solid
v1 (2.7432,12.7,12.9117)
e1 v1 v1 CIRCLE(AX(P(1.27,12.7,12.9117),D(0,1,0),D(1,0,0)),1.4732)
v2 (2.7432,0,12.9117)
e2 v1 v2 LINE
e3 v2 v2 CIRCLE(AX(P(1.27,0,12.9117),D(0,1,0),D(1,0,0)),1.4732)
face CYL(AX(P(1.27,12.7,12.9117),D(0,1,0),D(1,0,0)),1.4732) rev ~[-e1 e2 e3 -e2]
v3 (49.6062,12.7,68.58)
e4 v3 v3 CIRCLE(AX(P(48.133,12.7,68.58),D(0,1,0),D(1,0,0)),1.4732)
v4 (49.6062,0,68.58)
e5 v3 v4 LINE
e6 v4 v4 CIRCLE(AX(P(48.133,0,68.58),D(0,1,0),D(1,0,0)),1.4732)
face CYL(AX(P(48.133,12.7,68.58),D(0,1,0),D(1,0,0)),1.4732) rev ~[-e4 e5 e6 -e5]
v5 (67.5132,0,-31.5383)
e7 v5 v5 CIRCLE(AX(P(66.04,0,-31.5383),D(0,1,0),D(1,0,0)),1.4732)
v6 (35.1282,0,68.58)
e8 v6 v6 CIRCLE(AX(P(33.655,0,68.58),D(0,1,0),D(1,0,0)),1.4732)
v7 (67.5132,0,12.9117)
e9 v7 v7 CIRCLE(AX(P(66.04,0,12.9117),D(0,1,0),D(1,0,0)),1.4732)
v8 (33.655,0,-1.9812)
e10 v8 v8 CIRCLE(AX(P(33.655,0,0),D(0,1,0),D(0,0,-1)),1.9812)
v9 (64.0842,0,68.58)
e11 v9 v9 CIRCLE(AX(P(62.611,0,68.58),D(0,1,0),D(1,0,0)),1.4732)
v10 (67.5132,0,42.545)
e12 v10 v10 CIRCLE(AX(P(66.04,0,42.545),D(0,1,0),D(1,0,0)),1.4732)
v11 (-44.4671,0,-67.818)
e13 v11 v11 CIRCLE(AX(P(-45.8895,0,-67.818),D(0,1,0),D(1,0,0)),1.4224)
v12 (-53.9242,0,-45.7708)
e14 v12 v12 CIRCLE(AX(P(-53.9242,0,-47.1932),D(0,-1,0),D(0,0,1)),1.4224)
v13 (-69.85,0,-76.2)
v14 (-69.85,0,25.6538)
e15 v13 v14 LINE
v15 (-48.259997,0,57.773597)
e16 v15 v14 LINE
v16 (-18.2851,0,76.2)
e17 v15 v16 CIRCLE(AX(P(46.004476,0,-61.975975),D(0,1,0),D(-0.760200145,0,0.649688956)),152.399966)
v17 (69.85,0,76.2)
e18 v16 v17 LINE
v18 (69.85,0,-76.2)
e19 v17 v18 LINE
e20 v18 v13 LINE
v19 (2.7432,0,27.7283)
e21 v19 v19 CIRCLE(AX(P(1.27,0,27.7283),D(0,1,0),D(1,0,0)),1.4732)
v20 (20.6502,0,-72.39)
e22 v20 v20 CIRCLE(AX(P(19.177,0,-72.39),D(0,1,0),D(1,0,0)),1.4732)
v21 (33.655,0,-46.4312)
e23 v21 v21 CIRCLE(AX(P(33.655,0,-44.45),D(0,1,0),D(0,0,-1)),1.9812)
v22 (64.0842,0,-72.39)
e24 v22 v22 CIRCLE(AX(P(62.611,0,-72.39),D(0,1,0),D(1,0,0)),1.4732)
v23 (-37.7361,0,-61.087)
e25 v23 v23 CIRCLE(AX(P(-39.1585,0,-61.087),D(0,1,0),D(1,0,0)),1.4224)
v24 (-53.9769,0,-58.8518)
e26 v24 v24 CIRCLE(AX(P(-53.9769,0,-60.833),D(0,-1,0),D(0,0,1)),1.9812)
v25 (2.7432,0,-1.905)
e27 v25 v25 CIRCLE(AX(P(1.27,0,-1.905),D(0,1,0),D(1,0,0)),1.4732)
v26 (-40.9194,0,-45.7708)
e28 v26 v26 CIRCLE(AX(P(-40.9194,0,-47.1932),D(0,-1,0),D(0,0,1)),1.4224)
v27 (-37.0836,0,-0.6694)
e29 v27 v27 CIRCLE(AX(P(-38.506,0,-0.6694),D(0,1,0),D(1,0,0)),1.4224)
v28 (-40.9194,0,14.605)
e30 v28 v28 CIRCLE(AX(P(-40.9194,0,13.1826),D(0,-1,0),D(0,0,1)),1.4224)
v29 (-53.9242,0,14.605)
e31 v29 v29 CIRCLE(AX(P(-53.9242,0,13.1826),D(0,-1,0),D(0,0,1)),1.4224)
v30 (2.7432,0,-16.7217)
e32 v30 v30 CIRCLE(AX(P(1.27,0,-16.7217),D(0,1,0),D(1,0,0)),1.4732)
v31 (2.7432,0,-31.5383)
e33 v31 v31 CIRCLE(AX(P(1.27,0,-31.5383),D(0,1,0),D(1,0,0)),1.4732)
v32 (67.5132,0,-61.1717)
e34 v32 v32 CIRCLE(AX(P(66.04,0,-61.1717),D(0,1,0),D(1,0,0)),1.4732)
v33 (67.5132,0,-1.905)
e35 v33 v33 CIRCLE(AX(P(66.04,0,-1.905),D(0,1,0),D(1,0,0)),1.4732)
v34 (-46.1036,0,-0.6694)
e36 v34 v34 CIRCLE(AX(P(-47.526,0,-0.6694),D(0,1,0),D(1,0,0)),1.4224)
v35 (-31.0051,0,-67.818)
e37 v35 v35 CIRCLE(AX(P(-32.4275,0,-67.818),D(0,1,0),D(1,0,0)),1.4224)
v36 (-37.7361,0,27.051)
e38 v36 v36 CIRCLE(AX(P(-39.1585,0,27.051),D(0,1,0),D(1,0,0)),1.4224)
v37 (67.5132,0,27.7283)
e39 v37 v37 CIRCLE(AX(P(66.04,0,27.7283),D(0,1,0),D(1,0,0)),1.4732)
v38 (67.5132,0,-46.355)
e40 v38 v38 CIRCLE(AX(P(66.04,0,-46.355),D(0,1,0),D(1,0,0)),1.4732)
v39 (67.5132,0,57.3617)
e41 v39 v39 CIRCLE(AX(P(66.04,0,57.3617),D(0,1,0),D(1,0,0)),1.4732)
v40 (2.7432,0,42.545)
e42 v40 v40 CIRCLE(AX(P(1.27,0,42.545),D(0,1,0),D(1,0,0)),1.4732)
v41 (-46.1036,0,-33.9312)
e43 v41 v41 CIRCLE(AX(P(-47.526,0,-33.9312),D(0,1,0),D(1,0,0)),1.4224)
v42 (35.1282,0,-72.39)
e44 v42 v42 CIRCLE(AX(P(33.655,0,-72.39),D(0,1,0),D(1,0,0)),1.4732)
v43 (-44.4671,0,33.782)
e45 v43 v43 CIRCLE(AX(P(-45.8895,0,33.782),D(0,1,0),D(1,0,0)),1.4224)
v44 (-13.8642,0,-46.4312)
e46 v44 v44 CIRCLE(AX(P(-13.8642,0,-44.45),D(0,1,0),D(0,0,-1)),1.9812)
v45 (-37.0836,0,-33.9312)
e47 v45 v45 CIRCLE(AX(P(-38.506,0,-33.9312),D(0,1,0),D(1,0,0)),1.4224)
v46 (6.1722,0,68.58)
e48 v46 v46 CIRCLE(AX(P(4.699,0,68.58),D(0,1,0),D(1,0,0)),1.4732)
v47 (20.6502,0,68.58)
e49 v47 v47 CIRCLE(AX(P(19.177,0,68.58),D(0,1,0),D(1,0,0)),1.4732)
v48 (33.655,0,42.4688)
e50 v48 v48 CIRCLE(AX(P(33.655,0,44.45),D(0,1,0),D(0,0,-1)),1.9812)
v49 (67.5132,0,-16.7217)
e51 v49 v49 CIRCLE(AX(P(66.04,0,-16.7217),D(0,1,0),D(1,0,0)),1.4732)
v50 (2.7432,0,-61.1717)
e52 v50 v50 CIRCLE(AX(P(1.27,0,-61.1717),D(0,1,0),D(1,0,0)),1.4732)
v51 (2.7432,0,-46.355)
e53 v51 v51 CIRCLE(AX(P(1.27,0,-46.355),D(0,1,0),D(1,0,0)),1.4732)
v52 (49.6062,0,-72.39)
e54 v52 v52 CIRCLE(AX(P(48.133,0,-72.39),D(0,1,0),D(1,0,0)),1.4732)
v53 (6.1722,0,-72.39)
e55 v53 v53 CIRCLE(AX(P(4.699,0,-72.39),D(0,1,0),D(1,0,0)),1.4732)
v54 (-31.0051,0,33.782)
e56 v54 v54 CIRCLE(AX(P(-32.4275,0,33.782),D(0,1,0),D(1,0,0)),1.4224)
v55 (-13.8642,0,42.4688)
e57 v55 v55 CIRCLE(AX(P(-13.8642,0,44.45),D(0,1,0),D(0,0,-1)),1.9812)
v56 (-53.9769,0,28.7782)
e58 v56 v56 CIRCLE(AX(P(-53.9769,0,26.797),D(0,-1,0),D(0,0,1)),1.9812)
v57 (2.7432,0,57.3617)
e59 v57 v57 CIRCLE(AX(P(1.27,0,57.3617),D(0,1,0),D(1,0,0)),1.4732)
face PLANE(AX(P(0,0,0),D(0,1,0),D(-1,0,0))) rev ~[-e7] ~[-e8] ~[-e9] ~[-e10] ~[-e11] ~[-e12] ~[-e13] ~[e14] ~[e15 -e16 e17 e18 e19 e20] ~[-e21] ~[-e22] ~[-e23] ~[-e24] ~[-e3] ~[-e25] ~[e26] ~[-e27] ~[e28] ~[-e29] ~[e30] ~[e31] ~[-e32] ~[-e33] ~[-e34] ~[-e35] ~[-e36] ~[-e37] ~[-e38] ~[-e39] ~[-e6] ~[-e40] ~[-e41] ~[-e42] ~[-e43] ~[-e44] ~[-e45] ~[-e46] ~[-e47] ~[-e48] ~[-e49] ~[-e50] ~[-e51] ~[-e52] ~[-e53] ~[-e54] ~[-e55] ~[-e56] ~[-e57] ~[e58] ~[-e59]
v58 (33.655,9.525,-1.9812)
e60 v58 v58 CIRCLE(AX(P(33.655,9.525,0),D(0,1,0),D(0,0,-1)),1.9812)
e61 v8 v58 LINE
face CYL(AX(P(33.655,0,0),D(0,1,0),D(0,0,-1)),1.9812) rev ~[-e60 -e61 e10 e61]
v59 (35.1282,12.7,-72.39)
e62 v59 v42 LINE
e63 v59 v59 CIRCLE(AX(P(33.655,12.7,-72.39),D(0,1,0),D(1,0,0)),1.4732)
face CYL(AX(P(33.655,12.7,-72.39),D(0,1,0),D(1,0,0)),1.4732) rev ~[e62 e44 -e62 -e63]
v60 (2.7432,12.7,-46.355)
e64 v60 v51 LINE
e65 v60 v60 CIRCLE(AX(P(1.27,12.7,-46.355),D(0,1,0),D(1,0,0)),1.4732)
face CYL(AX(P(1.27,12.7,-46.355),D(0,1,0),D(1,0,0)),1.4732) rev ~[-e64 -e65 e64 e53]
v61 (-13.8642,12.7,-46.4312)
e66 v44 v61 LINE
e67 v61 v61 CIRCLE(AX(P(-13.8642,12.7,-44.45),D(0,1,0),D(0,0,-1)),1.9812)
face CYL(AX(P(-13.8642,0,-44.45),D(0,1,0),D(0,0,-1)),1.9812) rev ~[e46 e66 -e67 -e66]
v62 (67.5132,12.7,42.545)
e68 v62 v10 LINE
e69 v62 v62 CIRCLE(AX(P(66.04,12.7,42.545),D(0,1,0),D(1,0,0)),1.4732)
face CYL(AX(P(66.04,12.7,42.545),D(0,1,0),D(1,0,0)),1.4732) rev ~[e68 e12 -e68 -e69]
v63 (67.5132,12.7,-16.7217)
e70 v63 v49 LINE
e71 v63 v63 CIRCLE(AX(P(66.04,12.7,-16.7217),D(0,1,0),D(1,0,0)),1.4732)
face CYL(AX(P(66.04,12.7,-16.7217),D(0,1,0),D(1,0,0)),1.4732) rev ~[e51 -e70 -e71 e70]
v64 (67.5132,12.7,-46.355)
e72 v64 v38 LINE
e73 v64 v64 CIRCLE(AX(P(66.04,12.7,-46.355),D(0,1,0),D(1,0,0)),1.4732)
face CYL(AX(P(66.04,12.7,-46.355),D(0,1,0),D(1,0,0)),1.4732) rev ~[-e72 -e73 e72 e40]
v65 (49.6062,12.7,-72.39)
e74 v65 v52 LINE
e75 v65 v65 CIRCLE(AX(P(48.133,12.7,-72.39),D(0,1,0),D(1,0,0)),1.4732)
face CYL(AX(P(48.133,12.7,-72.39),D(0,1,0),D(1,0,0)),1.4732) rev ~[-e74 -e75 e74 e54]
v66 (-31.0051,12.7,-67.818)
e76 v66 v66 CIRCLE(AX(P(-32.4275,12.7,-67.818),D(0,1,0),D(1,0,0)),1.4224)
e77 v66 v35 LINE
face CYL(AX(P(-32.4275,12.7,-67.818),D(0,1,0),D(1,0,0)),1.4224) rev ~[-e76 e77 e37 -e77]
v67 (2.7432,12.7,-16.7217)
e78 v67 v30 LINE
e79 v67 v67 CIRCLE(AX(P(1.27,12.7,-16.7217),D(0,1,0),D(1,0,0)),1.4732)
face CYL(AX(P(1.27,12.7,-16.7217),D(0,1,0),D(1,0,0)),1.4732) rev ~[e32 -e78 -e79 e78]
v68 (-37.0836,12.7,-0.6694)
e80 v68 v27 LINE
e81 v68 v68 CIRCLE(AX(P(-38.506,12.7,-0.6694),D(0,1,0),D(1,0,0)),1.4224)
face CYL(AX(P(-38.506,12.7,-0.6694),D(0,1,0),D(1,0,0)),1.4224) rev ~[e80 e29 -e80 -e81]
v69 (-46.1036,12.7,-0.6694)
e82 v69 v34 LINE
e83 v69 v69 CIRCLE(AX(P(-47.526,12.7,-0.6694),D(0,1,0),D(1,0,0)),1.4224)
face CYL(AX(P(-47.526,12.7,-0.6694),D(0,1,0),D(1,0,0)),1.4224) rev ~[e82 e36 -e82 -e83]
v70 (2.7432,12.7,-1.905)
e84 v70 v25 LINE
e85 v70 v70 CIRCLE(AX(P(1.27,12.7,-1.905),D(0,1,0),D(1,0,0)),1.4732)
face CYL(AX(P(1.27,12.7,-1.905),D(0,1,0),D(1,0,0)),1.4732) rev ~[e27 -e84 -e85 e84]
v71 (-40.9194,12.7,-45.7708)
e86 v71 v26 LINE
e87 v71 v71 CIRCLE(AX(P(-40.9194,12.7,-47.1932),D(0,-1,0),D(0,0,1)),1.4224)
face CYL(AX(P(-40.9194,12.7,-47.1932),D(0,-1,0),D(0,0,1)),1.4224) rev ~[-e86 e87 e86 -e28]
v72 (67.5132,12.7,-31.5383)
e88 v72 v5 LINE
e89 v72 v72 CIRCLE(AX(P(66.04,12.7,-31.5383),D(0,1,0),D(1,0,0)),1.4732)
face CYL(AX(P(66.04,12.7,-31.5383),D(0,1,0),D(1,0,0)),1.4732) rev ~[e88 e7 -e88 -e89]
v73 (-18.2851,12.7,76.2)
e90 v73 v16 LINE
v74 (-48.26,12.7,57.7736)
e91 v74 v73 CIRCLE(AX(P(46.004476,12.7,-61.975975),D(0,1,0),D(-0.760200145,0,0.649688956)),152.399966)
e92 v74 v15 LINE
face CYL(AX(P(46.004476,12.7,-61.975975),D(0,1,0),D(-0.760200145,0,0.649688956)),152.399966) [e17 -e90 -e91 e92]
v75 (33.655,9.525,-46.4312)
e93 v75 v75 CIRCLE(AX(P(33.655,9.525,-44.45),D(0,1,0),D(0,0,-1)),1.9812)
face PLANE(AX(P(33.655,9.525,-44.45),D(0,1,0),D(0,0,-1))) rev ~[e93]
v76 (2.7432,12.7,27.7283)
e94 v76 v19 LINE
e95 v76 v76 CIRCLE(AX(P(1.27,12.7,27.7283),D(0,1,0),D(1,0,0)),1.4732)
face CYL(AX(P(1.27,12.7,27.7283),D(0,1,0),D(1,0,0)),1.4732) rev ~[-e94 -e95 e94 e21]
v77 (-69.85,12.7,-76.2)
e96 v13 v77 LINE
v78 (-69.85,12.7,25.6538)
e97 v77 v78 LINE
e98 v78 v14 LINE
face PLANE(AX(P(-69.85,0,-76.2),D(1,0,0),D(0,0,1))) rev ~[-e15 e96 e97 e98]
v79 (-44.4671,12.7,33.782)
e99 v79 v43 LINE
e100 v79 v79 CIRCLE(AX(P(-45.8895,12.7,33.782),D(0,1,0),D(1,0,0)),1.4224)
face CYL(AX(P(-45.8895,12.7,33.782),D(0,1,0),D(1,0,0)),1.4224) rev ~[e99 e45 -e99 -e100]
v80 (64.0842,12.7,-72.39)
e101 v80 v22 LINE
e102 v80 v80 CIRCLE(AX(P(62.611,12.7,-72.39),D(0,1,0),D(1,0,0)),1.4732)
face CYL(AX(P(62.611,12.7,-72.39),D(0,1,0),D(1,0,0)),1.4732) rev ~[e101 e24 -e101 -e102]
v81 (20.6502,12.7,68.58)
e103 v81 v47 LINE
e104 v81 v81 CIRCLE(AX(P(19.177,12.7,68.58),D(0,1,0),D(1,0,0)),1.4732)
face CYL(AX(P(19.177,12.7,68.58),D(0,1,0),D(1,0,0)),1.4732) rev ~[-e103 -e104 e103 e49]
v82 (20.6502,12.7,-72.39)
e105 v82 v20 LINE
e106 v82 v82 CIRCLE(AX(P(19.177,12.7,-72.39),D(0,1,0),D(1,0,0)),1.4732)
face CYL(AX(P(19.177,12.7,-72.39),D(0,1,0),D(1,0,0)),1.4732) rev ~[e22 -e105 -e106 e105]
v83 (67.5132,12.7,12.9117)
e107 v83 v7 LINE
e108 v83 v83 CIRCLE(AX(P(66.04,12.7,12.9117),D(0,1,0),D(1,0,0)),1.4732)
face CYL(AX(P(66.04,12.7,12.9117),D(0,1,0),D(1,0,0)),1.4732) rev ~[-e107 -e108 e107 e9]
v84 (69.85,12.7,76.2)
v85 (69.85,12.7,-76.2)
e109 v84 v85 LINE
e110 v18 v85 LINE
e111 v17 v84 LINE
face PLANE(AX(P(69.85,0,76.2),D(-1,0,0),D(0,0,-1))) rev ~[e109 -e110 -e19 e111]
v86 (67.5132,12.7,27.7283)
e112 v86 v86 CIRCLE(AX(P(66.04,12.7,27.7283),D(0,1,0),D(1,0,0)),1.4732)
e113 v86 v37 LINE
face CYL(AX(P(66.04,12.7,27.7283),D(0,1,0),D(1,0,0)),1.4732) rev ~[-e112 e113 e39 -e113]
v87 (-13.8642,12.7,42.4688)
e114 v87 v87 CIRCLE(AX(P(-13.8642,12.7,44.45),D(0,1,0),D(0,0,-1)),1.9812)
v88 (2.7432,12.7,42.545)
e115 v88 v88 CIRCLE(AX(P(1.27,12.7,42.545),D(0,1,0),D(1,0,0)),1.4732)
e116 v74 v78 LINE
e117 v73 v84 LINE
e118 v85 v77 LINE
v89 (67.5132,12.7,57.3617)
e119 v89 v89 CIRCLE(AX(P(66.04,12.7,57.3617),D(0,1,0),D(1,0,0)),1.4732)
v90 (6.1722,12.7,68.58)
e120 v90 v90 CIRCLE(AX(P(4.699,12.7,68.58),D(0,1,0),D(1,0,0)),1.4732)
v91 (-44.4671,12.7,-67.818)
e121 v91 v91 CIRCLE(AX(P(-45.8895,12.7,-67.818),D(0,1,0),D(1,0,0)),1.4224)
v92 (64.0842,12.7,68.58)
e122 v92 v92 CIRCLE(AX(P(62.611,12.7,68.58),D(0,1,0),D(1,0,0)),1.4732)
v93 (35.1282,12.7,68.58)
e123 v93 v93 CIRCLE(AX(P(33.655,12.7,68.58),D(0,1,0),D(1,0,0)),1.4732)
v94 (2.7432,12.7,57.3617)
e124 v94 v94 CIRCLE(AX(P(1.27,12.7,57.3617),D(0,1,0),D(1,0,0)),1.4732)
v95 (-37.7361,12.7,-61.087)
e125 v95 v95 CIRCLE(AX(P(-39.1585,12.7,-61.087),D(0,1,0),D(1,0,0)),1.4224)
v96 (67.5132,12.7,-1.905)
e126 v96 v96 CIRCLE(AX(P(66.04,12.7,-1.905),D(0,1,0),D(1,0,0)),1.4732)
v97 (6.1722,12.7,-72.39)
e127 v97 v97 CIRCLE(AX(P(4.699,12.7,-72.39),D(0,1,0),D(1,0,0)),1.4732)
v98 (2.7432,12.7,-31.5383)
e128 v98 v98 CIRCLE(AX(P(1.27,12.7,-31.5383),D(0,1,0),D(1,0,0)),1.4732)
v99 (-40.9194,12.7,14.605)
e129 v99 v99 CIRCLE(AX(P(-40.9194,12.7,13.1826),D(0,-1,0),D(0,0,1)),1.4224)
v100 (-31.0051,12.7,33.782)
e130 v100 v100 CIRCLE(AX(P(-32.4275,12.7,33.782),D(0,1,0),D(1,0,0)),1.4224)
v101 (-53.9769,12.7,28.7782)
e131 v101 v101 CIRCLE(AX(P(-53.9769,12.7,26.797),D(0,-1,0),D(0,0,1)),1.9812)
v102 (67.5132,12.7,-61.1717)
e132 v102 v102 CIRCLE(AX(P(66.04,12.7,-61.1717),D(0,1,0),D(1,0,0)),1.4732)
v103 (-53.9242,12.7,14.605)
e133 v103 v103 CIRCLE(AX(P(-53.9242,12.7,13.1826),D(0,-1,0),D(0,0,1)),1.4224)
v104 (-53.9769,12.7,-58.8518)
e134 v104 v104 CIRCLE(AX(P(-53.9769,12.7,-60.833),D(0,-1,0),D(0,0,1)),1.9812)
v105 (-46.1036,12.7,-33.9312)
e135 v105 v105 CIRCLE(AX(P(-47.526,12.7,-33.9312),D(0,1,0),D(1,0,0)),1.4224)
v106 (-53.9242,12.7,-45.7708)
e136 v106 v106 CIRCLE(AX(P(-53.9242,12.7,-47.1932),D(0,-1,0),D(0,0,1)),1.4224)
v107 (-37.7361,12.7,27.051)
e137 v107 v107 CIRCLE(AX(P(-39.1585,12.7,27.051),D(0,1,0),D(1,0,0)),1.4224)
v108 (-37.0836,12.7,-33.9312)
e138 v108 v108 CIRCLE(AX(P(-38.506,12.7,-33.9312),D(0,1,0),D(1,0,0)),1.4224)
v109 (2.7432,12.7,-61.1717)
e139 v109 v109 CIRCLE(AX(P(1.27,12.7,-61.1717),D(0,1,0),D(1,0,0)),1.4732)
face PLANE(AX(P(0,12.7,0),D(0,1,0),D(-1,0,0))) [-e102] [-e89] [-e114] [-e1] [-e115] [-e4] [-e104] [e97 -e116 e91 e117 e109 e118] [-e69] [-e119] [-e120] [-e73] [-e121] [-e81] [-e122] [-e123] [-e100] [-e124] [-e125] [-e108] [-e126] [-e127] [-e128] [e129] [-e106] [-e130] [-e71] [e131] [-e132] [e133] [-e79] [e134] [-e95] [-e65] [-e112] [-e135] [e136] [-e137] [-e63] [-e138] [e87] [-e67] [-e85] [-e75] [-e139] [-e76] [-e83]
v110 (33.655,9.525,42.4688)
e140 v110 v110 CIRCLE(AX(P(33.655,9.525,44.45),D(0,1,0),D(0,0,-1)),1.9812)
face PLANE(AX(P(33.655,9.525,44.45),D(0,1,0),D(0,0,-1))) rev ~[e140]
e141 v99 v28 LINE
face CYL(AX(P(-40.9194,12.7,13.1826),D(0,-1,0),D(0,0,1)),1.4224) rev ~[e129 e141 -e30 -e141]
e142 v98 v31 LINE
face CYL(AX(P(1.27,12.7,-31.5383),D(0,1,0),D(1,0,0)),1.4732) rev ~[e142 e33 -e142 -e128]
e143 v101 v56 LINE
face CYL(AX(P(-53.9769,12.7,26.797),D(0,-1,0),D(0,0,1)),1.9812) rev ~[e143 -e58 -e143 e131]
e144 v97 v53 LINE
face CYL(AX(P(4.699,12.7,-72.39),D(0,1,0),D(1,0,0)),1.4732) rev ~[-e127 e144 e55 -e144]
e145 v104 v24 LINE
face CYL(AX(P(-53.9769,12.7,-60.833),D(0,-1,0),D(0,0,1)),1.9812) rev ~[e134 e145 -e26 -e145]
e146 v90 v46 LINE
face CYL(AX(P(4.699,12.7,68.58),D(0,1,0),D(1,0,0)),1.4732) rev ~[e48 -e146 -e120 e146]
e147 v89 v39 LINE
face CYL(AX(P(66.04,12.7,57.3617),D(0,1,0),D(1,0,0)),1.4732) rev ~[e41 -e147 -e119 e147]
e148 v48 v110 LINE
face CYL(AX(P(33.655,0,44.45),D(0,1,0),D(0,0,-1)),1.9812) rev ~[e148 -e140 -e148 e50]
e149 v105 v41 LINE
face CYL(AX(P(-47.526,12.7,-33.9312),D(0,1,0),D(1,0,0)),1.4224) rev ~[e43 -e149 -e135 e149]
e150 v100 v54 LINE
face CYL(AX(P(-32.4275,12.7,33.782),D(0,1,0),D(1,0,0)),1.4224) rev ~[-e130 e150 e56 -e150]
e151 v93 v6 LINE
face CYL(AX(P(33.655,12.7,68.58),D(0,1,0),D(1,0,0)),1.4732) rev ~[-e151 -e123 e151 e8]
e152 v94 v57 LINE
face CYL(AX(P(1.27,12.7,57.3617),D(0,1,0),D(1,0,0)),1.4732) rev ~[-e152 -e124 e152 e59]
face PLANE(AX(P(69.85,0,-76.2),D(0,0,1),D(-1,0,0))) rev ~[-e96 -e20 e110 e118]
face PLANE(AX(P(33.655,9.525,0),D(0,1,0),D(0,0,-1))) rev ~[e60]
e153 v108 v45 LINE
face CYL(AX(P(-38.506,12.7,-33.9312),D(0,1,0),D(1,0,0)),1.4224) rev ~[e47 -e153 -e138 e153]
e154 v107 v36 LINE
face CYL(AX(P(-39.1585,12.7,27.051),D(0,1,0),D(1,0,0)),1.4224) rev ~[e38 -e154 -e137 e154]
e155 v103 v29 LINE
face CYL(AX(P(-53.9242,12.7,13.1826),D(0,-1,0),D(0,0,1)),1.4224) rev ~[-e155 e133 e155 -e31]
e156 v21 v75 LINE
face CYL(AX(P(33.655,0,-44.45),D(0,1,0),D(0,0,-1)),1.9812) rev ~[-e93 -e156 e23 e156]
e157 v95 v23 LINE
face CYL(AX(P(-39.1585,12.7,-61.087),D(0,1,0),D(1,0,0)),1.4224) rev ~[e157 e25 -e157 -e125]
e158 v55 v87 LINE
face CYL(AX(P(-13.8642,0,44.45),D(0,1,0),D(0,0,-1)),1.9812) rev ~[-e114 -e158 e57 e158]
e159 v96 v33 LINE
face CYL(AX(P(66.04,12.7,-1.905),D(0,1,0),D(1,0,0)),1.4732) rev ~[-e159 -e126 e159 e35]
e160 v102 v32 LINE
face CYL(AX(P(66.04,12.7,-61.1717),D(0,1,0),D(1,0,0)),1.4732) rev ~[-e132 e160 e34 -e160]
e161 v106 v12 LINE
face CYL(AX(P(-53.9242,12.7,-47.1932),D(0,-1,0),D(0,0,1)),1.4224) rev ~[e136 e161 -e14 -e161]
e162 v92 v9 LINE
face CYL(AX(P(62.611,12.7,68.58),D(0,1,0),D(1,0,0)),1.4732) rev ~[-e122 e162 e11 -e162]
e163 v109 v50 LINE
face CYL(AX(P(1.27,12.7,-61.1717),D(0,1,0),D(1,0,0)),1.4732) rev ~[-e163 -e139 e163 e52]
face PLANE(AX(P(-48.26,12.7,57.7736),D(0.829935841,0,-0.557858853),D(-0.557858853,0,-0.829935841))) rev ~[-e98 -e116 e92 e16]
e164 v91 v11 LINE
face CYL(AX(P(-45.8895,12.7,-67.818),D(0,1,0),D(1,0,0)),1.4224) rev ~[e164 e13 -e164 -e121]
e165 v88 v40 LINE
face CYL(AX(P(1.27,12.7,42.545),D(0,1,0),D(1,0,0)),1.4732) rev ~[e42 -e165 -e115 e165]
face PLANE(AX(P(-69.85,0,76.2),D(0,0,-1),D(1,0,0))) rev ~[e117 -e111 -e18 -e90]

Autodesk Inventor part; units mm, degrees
ref_plane "YZ Plane" through (0, 0, 0) normal (1, 0, 0) x (0, 1, 0)
ref_plane "XZ Plane" through (0, 0, 0) normal (0, 1, 0) x (-1, 0, 0)
ref_plane "XY Plane" through (0, 0, 0) normal (0, 0, 1) x (1, 0, 0)
sketch "Sketch1" plane through (0, 0, 0) normal (0, 1, 0) x (-1, 0, 0)
  line L0 (69.85, 76.2) -> (-69.85, 76.2)
  line L1 (-69.85, 76.2) -> (-69.85, -76.2)
  line L2 (-69.85, -76.2) -> (69.85, -76.2)
  line L3 (69.85, -76.2) -> (69.85, 76.2)
  point P0 (0, 0)
  dimension "d0" = 152.4
  dimension "d1" = 139.7
  dimension "d2" = 69.85
  dimension "d3" = 76.2
extrude "Extrusion1" add sketch "Sketch1" along normal blind 12.7
sketch "Sketch4" plane through (0, 12.7, 0) normal (0, 1, 0) x (1, 0, 0)
  circle A0 centre (63.5, 69.85) radius 3.175
  circle A1 centre (63.5, -69.85) radius 3.175
  circle A2 centre (-60.96, -52.07) radius 3.175
  line L0 (69.85, 76.2) -> (-69.85, 76.2) projected
  line L1 (69.85, -76.2) -> (69.85, 76.2) projected
  line L2 (-69.85, -76.2) -> (69.85, -76.2) projected
  line L3 (-69.85, 76.2) -> (-69.85, -76.2) projected
  circle A3 centre (-60.96, 52.07) radius 3.175
  point P0 (0, 0)
  dimension "d20" = 6.35
  dimension "d21" = 6.35
  dimension "d22" = 6.35
  dimension "d23" = 6.35
  dimension "d24" = 6.35
  dimension "d25" = 6.35
  dimension "d26" = 6.35
  dimension "d27" = 24.13
  dimension "d28" = 8.89
  dimension "d32" = 6.35
  dimension "d33" = 24.13
  dimension "d34" = 8.89
extrude "Extrusion6" [suppressed]
fillet "Fillet1" [suppressed]
sketch "Sketch7" plane through (0, 12.7, 0) normal (0, 1, 0) x (1, 0, 0)
  arc A0 (-69.85, -37.0366) -> (-18.2851, -76.2) centre (46.0045, 61.976) ccw
  line L0 (69.85, 76.2) -> (-69.85, 76.2) projected
  line L1 (69.85, -76.2) -> (69.85, 76.2) projected
  line L2 (-69.85, 76.2) -> (-69.85, -76.2) projected
  line L3 (-69.85, -76.2) -> (69.85, -76.2) projected
  line L4 (-69.85, 76.2) -> (-69.85, -76.2) projected
  arc A1 (-18.2851, -76.2) -> (-69.85, -37.0366) centre (46.0045, 61.976) ccw
  point P0 (0, 0)
  point P1 (76.2, -60.325)
  point P2 (73.025, -60.325)
  point P3 (73.025, 63.5)
  point P4 (73.025, 60.325)
  point P5 (-73.025, 63.5)
  point P6 (76.2, 60.325)
  point P7 (73.025, -63.5)
  point P8 (-76.2, 60.325)
  point P9 (-80.9955, -22.2663)
  dimension "d46" = 304.8
  dimension "d47" = 14.224
  dimension "d48" = 23.8455
sketch "Sketch8" plane through (0, 12.7, 0) normal (0, 1, 0) x (1, 0, 0)
  circle A0 centre (-47.526, 0.6694) radius 1.4224 projected
  circle A1 centre (-47.526, 0.6694) radius 1.4224 projected
  circle A2 centre (-38.506, 0.6694) radius 1.4224 projected
  line L0 (-33.996, -2.3847) -> (-52.036, -2.3847) projected
  line L1 (-33.996, 3.7235) -> (-33.996, -2.3847) projected
  line L2 (-33.996, 3.7235) -> (-52.036, 3.7235) projected
  line L3 (-52.036, -2.3847) -> (-52.036, 3.7235) projected
  circle A3 centre (-47.526, 33.9312) radius 1.4224 projected
  circle A4 centre (-38.506, 33.9312) radius 1.4224 projected
  line L4 (-33.996, 30.877) -> (-52.036, 30.877) projected
  line L5 (-33.996, 36.9853) -> (-33.996, 30.877) projected
  line L6 (-33.996, 36.9853) -> (-52.036, 36.9853) projected
  line L7 (-52.036, 30.877) -> (-52.036, 36.9853) projected
  circle A5 centre (2.54, -39.6875) radius 3.175 construction
  circle A6 centre (2.54, 12.7127) radius 3.175 construction
  circle A7 centre (2.54, 65.1129) radius 3.175 construction
  circle A8 centre (68.58, 65.1129) radius 3.175 construction
  circle A9 centre (68.58, 12.7127) radius 3.175 construction
  circle A10 centre (68.58, -39.6875) radius 3.175 construction
  circle A11 centre (-32.4275, -33.782) radius 1.4224 projected
  circle A12 centre (-39.1585, -27.051) radius 1.4224 projected
  circle A13 centre (-45.8895, -33.782) radius 1.4224 projected
  circle A14 centre (-45.8895, 67.818) radius 1.4224 projected
  circle A15 centre (-39.1585, 61.087) radius 1.4224 projected
  circle A16 centre (-32.4275, 67.818) radius 1.4224 projected
extrude "Extrusion9" cut sketch "Sketch8" against normal through all contours A0 | A2 | A3 | A4 | A11 | A12 | A13 | A14 | A15 | A16
extrude "Extrusion11" cut sketch "Sketch7" against normal through all contours A0 L3 L2
sketch "Sketch10" plane through (0, 12.7, 0) normal (0, 1, 0) x (1, 0, 0)
  circle A0 centre (62.611, 72.39) radius 1.4732 projected
  arc A1 (-69.85, -37.0366) -> (-18.2851, -76.2) centre (46.0045, 61.976) ccw projected
  line L0 (-18.2851, -76.2) -> (69.85, -76.2) projected
  line L1 (69.85, -76.2) -> (69.85, 76.2) projected
  line L2 (69.85, 76.2) -> (-69.85, 76.2) projected
  line L3 (-69.85, 76.2) -> (-69.85, -37.0366) projected
  circle A2 centre (-47.526, 33.9312) radius 1.4224 projected
  circle A3 centre (-47.526, 0.6694) radius 1.4224 projected
  circle A4 centre (-38.506, 0.6694) radius 1.4224 projected
  circle A5 centre (-38.506, 33.9312) radius 1.4224 projected
  circle A6 centre (33.655, 72.39) radius 1.4732 projected
  circle A7 centre (48.133, 72.39) radius 1.4732 projected
  circle A8 centre (19.177, 72.39) radius 1.4732 projected
  circle A9 centre (4.699, 72.39) radius 1.4732 projected
  circle A10 centre (62.611, -68.58) radius 1.4732 projected
  circle A11 centre (48.133, -68.58) radius 1.4732 projected
  circle A12 centre (33.655, -68.58) radius 1.4732 projected
  circle A13 centre (19.177, -68.58) radius 1.4732 projected
  circle A14 centre (4.699, -68.58) radius 1.4732 projected
  point P0 (0, 0)
extrude "Extrusion13" cut sketch "Sketch10" against normal through all contours A0 | A6 | A7 | A8 | A9 | A10 | A11 | A12 | A13 | A14
sketch "Sketch11" plane through (0, 12.7, 0) normal (0, 1, 0) x (1, 0, 0)
  circle A0 centre (19.177, 72.39) radius 1.4732 projected
  circle A1 centre (48.133, 72.39) radius 1.4732 projected
  circle A2 centre (62.611, -68.58) radius 1.4732 projected
  circle A3 centre (33.655, -68.58) radius 1.4732 projected
  circle A4 centre (4.699, -68.58) radius 1.4732 projected
  circle A5 centre (1.27, -42.545) radius 1.4732 projected
  circle A6 centre (1.27, -12.9117) radius 1.4732 projected
  circle A7 centre (1.27, 16.7217) radius 1.4732 projected
  circle A8 centre (1.27, 46.355) radius 1.4732 projected
  circle A9 centre (66.04, 61.1717) radius 1.4732 projected
  circle A10 centre (66.04, 31.5383) radius 1.4732 projected
  circle A11 centre (66.04, 1.905) radius 1.4732 projected
  circle A12 centre (66.04, -27.7283) radius 1.4732 projected
  circle A13 centre (66.04, -57.3617) radius 1.4732 projected
  circle A14 centre (66.04, -42.545) radius 1.4732 projected
  circle A15 centre (66.04, -12.9117) radius 1.4732 projected
  circle A16 centre (66.04, 16.7217) radius 1.4732 projected
  circle A17 centre (66.04, 46.355) radius 1.4732 projected
  circle A18 centre (1.27, 61.1717) radius 1.4732 projected
  circle A19 centre (1.27, 31.5383) radius 1.4732 projected
  circle A20 centre (1.27, 1.905) radius 1.4732 projected
  circle A21 centre (1.27, -27.7283) radius 1.4732 projected
  circle A22 centre (1.27, -57.3617) radius 1.4732 projected
  circle A23 centre (19.177, -68.58) radius 1.4732 projected
  circle A24 centre (48.133, -68.58) radius 1.4732 projected
  circle A25 centre (62.611, 72.39) radius 1.4732 projected
  circle A26 centre (33.655, 72.39) radius 1.4732 projected
  circle A27 centre (4.699, 72.39) radius 1.4732 projected
  line L0 (0.635, -72.39) -> (66.675, -72.39) projected
  line L1 (69.85, -69.215) -> (69.85, 73.025) projected
  line L2 (66.675, 76.2) -> (0.635, 76.2) projected
  line L3 (-2.54, 73.025) -> (-2.54, -69.215) projected
  arc A28 (59.055, 62.23) -> (55.88, 65.405) centre (55.88, 62.23) ccw projected
  line L4 (59.055, -58.42) -> (59.055, 62.23) projected
  arc A29 (55.88, -61.595) -> (59.055, -58.42) centre (55.88, -58.42) ccw projected
  line L5 (11.43, -61.595) -> (55.88, -61.595) projected
  arc A30 (8.255, -58.42) -> (11.43, -61.595) centre (11.43, -58.42) ccw projected
  line L6 (8.255, 62.23) -> (8.255, -58.42) projected
  arc A31 (11.43, 65.405) -> (8.255, 62.23) centre (11.43, 62.23) ccw projected
  line L7 (55.88, 65.405) -> (11.43, 65.405) projected
  arc A32 (69.85, 73.025) -> (66.675, 76.2) centre (66.675, 73.025) ccw projected
  arc A33 (0.635, 76.2) -> (-2.54, 73.025) centre (0.635, 73.025) ccw projected
  arc A34 (-2.54, -69.215) -> (0.635, -72.39) centre (0.635, -69.215) ccw projected
  arc A35 (66.675, -72.39) -> (69.85, -69.215) centre (66.675, -69.215) ccw projected
  point P0 (0, 0)
  point P1 (52.705, -61.595)
extrude "Extrusion14" cut sketch "Sketch11" against normal through all contours A5 | A6 | A7 | A8 | A9 | A10 | A11 | A12 | A13 | A14 | A15 | A16 | A17 | A18 | A19 | A20 | A21 | A22 | A25
sketch "Sketch14" plane through (0, 0, 0) normal (0, -1, 0) x (1, 0, 0)
  line L0 (69.85, -76.2) -> (-69.85, -76.2) projected
  line L1 (-18.2851, 76.2) -> (69.85, 76.2) projected
  circle A0 centre (4.699, -72.39) radius 1.4732 projected
  circle A1 centre (-32.4275, -67.818) radius 1.4224 projected
  point P0 (0, 0)
  point P1 (-13.8642, 44.45)
  point P2 (-13.8642, -44.45)
  dimension "d79" = 44.45
  dimension "d80" = 152.4
  dimension "d81" = 44.45
  dimension "d82" = 37.1265
  dimension "d83" = 18.5633
  dimension "d84" = 18.5633
hole "Hole2" at (-13.8642, 0, 44.45) at (-13.8642, 0, -44.45) direction (0, 1, 0) diameter 3.9624 end through all thread size "10-32 UNF" class "2B" standard "ANSI Unified Screw Threads"
sketch "Sketch15" plane through (0, 0, 0) normal (0, -1, 0) x (1, 0, 0)
  circle A0 centre (-13.8642, 44.45) radius 1.9812 projected
  circle A1 centre (-13.8642, -44.45) radius 1.9812 projected
  circle A2 centre (66.04, -31.5383) radius 1.4732 projected
  circle A3 centre (1.27, -31.5383) radius 1.4732 projected
  circle A4 centre (1.27, 42.545) radius 1.4732 projected
  point P0 (0, 0)
  point P1 (33.655, -44.45)
  point P2 (33.655, 44.45)
  point P3 (33.655, 0)
  dimension "d92" = 44.45
  dimension "d93" = 44.45
  dimension "d94" = 44.45
  dimension "d95" = 44.45
  dimension "d96" = 64.77
  dimension "d97" = 32.385
  dimension "d98" = 32.385
  dimension "d222" = 32.385
  dimension "d223" = 44.45
hole "Hole3" at (33.655, 0, -44.45) at (33.655, 0, 44.45) at (33.655, 0, 0) direction (0, 1, 0) diameter 3.9624 depth 9.525 thread size "10-32 UNF" class "2B" standard "ANSI Unified Screw Threads"
thread "Thread3" size "5-40 UNC" class "2B" standard "ANSI Unified Screw Threads" full length
thread "Thread4" size "5-40 UNC" class "2B" standard "ANSI Unified Screw Threads" full length
thread "Thread5" size "5-40 UNC" class "2B" standard "ANSI Unified Screw Threads" full length
thread "Thread6" size "5-40 UNC" class "2B" standard "ANSI Unified Screw Threads" full length
thread "Thread7" size "5-40 UNC" class "2B" standard "ANSI Unified Screw Threads" full length
thread "Thread8" size "5-40 UNC" class "2B" standard "ANSI Unified Screw Threads" full length
thread "Thread9" size "5-40 UNC" class "2B" standard "ANSI Unified Screw Threads" full length
thread "Thread10" size "5-40 UNC" class "2B" standard "ANSI Unified Screw Threads" full length
thread "Thread11" size "5-40 UNC" class "2B" standard "ANSI Unified Screw Threads" full length
thread "Thread12" size "5-40 UNC" class "2B" standard "ANSI Unified Screw Threads" full length
thread "Thread13" size "5-40 UNC" class "2B" standard "ANSI Unified Screw Threads" full length
thread "Thread14" size "5-40 UNC" class "2B" standard "ANSI Unified Screw Threads" full length
thread "Thread15" size "5-40 UNC" class "2B" standard "ANSI Unified Screw Threads" full length
thread "Thread16" size "5-40 UNC" class "2B" standard "ANSI Unified Screw Threads" full length
thread "Thread17" size "5-40 UNC" class "2B" standard "ANSI Unified Screw Threads" full length
thread "Thread18" size "5-40 UNC" class "2B" standard "ANSI Unified Screw Threads" full length
thread "Thread19" size "5-40 UNC" class "2B" standard "ANSI Unified Screw Threads" full length
thread "Thread20" size "5-40 UNC" class "2B" standard "ANSI Unified Screw Threads" full length
thread "Thread21" size "5-40 UNC" class "2B" standard "ANSI Unified Screw Threads" full length
thread "Thread22" size "5-40 UNC" class "2B" standard "ANSI Unified Screw Threads" full length
thread "Thread23" size "5-40 UNC" class "2B" standard "ANSI Unified Screw Threads" full length
thread "Thread24" size "5-40 UNC" class "2B" standard "ANSI Unified Screw Threads" full length
thread "Thread25" size "5-40 UNC" class "2B" standard "ANSI Unified Screw Threads" full length
thread "Thread26" size "5-40 UNC" class "2B" standard "ANSI Unified Screw Threads" full length
thread "Thread27" size "5-40 UNC" class "2B" standard "ANSI Unified Screw Threads" full length
thread "Thread28" size "5-40 UNC" class "2B" standard "ANSI Unified Screw Threads" full length
thread "Thread29" size "5-40 UNC" class "2B" standard "ANSI Unified Screw Threads" full length
thread "Thread30" size "5-40 UNC" class "2B" standard "ANSI Unified Screw Threads" full length
thread "Thread31" size "5-40 UNC" class "2B" standard "ANSI Unified Screw Threads" full length
thread "Thread32" size "4-40 UNC" class "2B" standard "ANSI Unified Screw Threads" full length
thread "Thread33" size "4-40 UNC" class "2B" standard "ANSI Unified Screw Threads" full length
thread "Thread34" size "4-40 UNC" class "2B" standard "ANSI Unified Screw Threads" full length
thread "Thread35" size "4-40 UNC" class "2B" standard "ANSI Unified Screw Threads" full length
thread "Thread36" size "4-40 UNC" class "2B" standard "ANSI Unified Screw Threads" full length
thread "Thread37" size "4-40 UNC" class "2B" standard "ANSI Unified Screw Threads" full length
thread "Thread38" size "4-40 UNC" class "2B" standard "ANSI Unified Screw Threads" full length
thread "Thread39" size "4-40 UNC" class "2B" standard "ANSI Unified Screw Threads" full length
thread "Thread40" size "4-40 UNC" class "2B" standard "ANSI Unified Screw Threads" full length
thread "Thread41" size "4-40 UNC" class "2B" standard "ANSI Unified Screw Threads" full length
sketch "Sketch16" plane through (0, 0, 0) normal (0, -1, 0) x (1, 0, 0)
  line L0 (-18.2851, 76.2) -> (69.85, 76.2) projected
  line L1 (69.85, -76.2) -> (-69.85, -76.2) projected
  line L2 (69.85, 76.2) -> (63.5, 76.2)
  line L3 (63.5, 76.2) -> (63.5, -76.2)
  line L4 (63.5, -76.2) -> (69.85, -76.2)
  line L5 (69.85, -76.2) -> (69.85, 76.2)
  point P0 (0, 0)
  dimension "d196" = 6.35
extrude "Extrusion15" [suppressed]
sketch "Sketch17" plane through (0, 12.7, 0) normal (0, 1, 0) x (1, 0, 0)
  line L0 (-48.26, -57.7736) -> (-69.85, -25.6538)
  line L1 (-69.85, 76.2) -> (-69.85, -37.0366) projected
  line L2 (-69.85, -25.6538) -> (-69.85, -37.0366)
  arc A0 (-69.85, -37.0366) -> (-18.2851, -76.2) centre (46.0045, 61.976) ccw projected
  arc A1 (-69.85, -37.0366) -> (-48.26, -57.7736) centre (46.0045, 61.976) ccw
  point P0 (0, 0)
  dimension "d200" = 6.35
  dimension "d203" = 21.59
extrude "Extrusion16" cut sketch "Sketch17" against normal through all
thread "Thread46" size "10-32 UNF" class "2B" standard "ANSI Unified Screw Threads" full length
thread "Thread47" size "10-32 UNF" class "2B" standard "ANSI Unified Screw Threads" full length
thread "Thread48" size "10-32 UNF" class "2B" standard "ANSI Unified Screw Threads" full length
sketch "Sketch19" plane through (0, 12.7, 0) normal (0, 1, 0) x (1, 0, 0)
  point P0 (0, 0)
  point P1 (-28.9602, -57.9611)
sketch "Sketch20" plane through (0, 0, 0) normal (0, -1, 0) x (1, 0, 0)
  circle A0 centre (-47.6269, -48.133) radius 2.3495 projected
  circle A1 centre (-47.6269, 14.097) radius 2.3495 projected
  point P0 (0, 0)
sketch "Sketch18" plane through (0, 12.7, 0) normal (0, 1, 0) x (1, 0, 0)
  circle A0 centre (-47.6269, -14.097) radius 2.794 projected
  circle A1 centre (-47.6269, 48.133) radius 2.794 projected
  point P0 (0, 0)
  point P1 (-53.9769, 60.833)
  point P2 (-53.9769, -26.797)
  dimension "d211" = 12.7
  dimension "d212" = 12.7
  dimension "d213" = 6.35
  dimension "d214" = 6.35
hole "Hole4" at (-53.9769, 12.7, -60.833) at (-53.9769, 12.7, 26.797) direction (0, -1, 0) diameter 3.9624 depth 12.7 thread size "10-32 UNF" class "2B" standard "ANSI Unified Screw Threads"
sketch "Sketch21" plane through (0, 12.7, 0) normal (0, 1, 0) x (1, 0, 0)
  line L0 (69.85, 76.2) -> (-69.85, 76.2) projected
  line L1 (-69.85, 76.2) -> (-69.85, -25.6538) projected
  point P0 (0, 0)
  point P1 (-53.9242, -13.1826)
  point P2 (-40.9194, -13.1826)
  point P3 (-40.9194, 47.1932)
  point P4 (-53.9242, 47.1932)
  dimension "d224" = 29.0068
  dimension "d225" = 15.9258
  dimension "d226" = 28.9306
  dimension "d227" = 29.0068
  dimension "d228" = 15.9258
  dimension "d229" = 89.3826
  dimension "d230" = 89.3826
  dimension "d231" = 28.9306
hole "Hole5" at (-53.9242, 12.7, 13.1826) at (-40.9194, 12.7, 13.1826) at (-53.9242, 12.7, -47.1932) at (-40.9194, 12.7, -47.1932) direction (0, -1, 0) diameter 2.8448 end through all
equation "\"d2\" = 0.5 * d1"
equation "\"d3\" = 0.5 * d0"
equation "\"d21\" = d20"
equation "\"d22\" = d20"
equation "\"d24\" = d23"
equation "\"d25\" = d24"
equation "\"d26\" = d23"
equation "\"d32\" = d20"
equation "\"d33\" = d27"
equation "\"d34\" = d28"
equation "\"d79\" = d81"
equation "\"d83\" = 0.5 * d82"
equation "\"d84\" = d83"
equation "\"d92\" = d93"
equation "\"d95\" = d94"
equation "\"d97\" = 0.5 * d96"
equation "\"d98\" = d97"
equation "\"d222\" = d98"
equation "\"d223\" = d95"
equation "\"d214\" = d213"
equation "\"d227\" = d224"
equation "\"d228\" = d225"
equation "\"d230\" = d229"
equation "\"d231\" = d226"
properties part number "Base Plate Mk 2" material "Aluminum 6061"
